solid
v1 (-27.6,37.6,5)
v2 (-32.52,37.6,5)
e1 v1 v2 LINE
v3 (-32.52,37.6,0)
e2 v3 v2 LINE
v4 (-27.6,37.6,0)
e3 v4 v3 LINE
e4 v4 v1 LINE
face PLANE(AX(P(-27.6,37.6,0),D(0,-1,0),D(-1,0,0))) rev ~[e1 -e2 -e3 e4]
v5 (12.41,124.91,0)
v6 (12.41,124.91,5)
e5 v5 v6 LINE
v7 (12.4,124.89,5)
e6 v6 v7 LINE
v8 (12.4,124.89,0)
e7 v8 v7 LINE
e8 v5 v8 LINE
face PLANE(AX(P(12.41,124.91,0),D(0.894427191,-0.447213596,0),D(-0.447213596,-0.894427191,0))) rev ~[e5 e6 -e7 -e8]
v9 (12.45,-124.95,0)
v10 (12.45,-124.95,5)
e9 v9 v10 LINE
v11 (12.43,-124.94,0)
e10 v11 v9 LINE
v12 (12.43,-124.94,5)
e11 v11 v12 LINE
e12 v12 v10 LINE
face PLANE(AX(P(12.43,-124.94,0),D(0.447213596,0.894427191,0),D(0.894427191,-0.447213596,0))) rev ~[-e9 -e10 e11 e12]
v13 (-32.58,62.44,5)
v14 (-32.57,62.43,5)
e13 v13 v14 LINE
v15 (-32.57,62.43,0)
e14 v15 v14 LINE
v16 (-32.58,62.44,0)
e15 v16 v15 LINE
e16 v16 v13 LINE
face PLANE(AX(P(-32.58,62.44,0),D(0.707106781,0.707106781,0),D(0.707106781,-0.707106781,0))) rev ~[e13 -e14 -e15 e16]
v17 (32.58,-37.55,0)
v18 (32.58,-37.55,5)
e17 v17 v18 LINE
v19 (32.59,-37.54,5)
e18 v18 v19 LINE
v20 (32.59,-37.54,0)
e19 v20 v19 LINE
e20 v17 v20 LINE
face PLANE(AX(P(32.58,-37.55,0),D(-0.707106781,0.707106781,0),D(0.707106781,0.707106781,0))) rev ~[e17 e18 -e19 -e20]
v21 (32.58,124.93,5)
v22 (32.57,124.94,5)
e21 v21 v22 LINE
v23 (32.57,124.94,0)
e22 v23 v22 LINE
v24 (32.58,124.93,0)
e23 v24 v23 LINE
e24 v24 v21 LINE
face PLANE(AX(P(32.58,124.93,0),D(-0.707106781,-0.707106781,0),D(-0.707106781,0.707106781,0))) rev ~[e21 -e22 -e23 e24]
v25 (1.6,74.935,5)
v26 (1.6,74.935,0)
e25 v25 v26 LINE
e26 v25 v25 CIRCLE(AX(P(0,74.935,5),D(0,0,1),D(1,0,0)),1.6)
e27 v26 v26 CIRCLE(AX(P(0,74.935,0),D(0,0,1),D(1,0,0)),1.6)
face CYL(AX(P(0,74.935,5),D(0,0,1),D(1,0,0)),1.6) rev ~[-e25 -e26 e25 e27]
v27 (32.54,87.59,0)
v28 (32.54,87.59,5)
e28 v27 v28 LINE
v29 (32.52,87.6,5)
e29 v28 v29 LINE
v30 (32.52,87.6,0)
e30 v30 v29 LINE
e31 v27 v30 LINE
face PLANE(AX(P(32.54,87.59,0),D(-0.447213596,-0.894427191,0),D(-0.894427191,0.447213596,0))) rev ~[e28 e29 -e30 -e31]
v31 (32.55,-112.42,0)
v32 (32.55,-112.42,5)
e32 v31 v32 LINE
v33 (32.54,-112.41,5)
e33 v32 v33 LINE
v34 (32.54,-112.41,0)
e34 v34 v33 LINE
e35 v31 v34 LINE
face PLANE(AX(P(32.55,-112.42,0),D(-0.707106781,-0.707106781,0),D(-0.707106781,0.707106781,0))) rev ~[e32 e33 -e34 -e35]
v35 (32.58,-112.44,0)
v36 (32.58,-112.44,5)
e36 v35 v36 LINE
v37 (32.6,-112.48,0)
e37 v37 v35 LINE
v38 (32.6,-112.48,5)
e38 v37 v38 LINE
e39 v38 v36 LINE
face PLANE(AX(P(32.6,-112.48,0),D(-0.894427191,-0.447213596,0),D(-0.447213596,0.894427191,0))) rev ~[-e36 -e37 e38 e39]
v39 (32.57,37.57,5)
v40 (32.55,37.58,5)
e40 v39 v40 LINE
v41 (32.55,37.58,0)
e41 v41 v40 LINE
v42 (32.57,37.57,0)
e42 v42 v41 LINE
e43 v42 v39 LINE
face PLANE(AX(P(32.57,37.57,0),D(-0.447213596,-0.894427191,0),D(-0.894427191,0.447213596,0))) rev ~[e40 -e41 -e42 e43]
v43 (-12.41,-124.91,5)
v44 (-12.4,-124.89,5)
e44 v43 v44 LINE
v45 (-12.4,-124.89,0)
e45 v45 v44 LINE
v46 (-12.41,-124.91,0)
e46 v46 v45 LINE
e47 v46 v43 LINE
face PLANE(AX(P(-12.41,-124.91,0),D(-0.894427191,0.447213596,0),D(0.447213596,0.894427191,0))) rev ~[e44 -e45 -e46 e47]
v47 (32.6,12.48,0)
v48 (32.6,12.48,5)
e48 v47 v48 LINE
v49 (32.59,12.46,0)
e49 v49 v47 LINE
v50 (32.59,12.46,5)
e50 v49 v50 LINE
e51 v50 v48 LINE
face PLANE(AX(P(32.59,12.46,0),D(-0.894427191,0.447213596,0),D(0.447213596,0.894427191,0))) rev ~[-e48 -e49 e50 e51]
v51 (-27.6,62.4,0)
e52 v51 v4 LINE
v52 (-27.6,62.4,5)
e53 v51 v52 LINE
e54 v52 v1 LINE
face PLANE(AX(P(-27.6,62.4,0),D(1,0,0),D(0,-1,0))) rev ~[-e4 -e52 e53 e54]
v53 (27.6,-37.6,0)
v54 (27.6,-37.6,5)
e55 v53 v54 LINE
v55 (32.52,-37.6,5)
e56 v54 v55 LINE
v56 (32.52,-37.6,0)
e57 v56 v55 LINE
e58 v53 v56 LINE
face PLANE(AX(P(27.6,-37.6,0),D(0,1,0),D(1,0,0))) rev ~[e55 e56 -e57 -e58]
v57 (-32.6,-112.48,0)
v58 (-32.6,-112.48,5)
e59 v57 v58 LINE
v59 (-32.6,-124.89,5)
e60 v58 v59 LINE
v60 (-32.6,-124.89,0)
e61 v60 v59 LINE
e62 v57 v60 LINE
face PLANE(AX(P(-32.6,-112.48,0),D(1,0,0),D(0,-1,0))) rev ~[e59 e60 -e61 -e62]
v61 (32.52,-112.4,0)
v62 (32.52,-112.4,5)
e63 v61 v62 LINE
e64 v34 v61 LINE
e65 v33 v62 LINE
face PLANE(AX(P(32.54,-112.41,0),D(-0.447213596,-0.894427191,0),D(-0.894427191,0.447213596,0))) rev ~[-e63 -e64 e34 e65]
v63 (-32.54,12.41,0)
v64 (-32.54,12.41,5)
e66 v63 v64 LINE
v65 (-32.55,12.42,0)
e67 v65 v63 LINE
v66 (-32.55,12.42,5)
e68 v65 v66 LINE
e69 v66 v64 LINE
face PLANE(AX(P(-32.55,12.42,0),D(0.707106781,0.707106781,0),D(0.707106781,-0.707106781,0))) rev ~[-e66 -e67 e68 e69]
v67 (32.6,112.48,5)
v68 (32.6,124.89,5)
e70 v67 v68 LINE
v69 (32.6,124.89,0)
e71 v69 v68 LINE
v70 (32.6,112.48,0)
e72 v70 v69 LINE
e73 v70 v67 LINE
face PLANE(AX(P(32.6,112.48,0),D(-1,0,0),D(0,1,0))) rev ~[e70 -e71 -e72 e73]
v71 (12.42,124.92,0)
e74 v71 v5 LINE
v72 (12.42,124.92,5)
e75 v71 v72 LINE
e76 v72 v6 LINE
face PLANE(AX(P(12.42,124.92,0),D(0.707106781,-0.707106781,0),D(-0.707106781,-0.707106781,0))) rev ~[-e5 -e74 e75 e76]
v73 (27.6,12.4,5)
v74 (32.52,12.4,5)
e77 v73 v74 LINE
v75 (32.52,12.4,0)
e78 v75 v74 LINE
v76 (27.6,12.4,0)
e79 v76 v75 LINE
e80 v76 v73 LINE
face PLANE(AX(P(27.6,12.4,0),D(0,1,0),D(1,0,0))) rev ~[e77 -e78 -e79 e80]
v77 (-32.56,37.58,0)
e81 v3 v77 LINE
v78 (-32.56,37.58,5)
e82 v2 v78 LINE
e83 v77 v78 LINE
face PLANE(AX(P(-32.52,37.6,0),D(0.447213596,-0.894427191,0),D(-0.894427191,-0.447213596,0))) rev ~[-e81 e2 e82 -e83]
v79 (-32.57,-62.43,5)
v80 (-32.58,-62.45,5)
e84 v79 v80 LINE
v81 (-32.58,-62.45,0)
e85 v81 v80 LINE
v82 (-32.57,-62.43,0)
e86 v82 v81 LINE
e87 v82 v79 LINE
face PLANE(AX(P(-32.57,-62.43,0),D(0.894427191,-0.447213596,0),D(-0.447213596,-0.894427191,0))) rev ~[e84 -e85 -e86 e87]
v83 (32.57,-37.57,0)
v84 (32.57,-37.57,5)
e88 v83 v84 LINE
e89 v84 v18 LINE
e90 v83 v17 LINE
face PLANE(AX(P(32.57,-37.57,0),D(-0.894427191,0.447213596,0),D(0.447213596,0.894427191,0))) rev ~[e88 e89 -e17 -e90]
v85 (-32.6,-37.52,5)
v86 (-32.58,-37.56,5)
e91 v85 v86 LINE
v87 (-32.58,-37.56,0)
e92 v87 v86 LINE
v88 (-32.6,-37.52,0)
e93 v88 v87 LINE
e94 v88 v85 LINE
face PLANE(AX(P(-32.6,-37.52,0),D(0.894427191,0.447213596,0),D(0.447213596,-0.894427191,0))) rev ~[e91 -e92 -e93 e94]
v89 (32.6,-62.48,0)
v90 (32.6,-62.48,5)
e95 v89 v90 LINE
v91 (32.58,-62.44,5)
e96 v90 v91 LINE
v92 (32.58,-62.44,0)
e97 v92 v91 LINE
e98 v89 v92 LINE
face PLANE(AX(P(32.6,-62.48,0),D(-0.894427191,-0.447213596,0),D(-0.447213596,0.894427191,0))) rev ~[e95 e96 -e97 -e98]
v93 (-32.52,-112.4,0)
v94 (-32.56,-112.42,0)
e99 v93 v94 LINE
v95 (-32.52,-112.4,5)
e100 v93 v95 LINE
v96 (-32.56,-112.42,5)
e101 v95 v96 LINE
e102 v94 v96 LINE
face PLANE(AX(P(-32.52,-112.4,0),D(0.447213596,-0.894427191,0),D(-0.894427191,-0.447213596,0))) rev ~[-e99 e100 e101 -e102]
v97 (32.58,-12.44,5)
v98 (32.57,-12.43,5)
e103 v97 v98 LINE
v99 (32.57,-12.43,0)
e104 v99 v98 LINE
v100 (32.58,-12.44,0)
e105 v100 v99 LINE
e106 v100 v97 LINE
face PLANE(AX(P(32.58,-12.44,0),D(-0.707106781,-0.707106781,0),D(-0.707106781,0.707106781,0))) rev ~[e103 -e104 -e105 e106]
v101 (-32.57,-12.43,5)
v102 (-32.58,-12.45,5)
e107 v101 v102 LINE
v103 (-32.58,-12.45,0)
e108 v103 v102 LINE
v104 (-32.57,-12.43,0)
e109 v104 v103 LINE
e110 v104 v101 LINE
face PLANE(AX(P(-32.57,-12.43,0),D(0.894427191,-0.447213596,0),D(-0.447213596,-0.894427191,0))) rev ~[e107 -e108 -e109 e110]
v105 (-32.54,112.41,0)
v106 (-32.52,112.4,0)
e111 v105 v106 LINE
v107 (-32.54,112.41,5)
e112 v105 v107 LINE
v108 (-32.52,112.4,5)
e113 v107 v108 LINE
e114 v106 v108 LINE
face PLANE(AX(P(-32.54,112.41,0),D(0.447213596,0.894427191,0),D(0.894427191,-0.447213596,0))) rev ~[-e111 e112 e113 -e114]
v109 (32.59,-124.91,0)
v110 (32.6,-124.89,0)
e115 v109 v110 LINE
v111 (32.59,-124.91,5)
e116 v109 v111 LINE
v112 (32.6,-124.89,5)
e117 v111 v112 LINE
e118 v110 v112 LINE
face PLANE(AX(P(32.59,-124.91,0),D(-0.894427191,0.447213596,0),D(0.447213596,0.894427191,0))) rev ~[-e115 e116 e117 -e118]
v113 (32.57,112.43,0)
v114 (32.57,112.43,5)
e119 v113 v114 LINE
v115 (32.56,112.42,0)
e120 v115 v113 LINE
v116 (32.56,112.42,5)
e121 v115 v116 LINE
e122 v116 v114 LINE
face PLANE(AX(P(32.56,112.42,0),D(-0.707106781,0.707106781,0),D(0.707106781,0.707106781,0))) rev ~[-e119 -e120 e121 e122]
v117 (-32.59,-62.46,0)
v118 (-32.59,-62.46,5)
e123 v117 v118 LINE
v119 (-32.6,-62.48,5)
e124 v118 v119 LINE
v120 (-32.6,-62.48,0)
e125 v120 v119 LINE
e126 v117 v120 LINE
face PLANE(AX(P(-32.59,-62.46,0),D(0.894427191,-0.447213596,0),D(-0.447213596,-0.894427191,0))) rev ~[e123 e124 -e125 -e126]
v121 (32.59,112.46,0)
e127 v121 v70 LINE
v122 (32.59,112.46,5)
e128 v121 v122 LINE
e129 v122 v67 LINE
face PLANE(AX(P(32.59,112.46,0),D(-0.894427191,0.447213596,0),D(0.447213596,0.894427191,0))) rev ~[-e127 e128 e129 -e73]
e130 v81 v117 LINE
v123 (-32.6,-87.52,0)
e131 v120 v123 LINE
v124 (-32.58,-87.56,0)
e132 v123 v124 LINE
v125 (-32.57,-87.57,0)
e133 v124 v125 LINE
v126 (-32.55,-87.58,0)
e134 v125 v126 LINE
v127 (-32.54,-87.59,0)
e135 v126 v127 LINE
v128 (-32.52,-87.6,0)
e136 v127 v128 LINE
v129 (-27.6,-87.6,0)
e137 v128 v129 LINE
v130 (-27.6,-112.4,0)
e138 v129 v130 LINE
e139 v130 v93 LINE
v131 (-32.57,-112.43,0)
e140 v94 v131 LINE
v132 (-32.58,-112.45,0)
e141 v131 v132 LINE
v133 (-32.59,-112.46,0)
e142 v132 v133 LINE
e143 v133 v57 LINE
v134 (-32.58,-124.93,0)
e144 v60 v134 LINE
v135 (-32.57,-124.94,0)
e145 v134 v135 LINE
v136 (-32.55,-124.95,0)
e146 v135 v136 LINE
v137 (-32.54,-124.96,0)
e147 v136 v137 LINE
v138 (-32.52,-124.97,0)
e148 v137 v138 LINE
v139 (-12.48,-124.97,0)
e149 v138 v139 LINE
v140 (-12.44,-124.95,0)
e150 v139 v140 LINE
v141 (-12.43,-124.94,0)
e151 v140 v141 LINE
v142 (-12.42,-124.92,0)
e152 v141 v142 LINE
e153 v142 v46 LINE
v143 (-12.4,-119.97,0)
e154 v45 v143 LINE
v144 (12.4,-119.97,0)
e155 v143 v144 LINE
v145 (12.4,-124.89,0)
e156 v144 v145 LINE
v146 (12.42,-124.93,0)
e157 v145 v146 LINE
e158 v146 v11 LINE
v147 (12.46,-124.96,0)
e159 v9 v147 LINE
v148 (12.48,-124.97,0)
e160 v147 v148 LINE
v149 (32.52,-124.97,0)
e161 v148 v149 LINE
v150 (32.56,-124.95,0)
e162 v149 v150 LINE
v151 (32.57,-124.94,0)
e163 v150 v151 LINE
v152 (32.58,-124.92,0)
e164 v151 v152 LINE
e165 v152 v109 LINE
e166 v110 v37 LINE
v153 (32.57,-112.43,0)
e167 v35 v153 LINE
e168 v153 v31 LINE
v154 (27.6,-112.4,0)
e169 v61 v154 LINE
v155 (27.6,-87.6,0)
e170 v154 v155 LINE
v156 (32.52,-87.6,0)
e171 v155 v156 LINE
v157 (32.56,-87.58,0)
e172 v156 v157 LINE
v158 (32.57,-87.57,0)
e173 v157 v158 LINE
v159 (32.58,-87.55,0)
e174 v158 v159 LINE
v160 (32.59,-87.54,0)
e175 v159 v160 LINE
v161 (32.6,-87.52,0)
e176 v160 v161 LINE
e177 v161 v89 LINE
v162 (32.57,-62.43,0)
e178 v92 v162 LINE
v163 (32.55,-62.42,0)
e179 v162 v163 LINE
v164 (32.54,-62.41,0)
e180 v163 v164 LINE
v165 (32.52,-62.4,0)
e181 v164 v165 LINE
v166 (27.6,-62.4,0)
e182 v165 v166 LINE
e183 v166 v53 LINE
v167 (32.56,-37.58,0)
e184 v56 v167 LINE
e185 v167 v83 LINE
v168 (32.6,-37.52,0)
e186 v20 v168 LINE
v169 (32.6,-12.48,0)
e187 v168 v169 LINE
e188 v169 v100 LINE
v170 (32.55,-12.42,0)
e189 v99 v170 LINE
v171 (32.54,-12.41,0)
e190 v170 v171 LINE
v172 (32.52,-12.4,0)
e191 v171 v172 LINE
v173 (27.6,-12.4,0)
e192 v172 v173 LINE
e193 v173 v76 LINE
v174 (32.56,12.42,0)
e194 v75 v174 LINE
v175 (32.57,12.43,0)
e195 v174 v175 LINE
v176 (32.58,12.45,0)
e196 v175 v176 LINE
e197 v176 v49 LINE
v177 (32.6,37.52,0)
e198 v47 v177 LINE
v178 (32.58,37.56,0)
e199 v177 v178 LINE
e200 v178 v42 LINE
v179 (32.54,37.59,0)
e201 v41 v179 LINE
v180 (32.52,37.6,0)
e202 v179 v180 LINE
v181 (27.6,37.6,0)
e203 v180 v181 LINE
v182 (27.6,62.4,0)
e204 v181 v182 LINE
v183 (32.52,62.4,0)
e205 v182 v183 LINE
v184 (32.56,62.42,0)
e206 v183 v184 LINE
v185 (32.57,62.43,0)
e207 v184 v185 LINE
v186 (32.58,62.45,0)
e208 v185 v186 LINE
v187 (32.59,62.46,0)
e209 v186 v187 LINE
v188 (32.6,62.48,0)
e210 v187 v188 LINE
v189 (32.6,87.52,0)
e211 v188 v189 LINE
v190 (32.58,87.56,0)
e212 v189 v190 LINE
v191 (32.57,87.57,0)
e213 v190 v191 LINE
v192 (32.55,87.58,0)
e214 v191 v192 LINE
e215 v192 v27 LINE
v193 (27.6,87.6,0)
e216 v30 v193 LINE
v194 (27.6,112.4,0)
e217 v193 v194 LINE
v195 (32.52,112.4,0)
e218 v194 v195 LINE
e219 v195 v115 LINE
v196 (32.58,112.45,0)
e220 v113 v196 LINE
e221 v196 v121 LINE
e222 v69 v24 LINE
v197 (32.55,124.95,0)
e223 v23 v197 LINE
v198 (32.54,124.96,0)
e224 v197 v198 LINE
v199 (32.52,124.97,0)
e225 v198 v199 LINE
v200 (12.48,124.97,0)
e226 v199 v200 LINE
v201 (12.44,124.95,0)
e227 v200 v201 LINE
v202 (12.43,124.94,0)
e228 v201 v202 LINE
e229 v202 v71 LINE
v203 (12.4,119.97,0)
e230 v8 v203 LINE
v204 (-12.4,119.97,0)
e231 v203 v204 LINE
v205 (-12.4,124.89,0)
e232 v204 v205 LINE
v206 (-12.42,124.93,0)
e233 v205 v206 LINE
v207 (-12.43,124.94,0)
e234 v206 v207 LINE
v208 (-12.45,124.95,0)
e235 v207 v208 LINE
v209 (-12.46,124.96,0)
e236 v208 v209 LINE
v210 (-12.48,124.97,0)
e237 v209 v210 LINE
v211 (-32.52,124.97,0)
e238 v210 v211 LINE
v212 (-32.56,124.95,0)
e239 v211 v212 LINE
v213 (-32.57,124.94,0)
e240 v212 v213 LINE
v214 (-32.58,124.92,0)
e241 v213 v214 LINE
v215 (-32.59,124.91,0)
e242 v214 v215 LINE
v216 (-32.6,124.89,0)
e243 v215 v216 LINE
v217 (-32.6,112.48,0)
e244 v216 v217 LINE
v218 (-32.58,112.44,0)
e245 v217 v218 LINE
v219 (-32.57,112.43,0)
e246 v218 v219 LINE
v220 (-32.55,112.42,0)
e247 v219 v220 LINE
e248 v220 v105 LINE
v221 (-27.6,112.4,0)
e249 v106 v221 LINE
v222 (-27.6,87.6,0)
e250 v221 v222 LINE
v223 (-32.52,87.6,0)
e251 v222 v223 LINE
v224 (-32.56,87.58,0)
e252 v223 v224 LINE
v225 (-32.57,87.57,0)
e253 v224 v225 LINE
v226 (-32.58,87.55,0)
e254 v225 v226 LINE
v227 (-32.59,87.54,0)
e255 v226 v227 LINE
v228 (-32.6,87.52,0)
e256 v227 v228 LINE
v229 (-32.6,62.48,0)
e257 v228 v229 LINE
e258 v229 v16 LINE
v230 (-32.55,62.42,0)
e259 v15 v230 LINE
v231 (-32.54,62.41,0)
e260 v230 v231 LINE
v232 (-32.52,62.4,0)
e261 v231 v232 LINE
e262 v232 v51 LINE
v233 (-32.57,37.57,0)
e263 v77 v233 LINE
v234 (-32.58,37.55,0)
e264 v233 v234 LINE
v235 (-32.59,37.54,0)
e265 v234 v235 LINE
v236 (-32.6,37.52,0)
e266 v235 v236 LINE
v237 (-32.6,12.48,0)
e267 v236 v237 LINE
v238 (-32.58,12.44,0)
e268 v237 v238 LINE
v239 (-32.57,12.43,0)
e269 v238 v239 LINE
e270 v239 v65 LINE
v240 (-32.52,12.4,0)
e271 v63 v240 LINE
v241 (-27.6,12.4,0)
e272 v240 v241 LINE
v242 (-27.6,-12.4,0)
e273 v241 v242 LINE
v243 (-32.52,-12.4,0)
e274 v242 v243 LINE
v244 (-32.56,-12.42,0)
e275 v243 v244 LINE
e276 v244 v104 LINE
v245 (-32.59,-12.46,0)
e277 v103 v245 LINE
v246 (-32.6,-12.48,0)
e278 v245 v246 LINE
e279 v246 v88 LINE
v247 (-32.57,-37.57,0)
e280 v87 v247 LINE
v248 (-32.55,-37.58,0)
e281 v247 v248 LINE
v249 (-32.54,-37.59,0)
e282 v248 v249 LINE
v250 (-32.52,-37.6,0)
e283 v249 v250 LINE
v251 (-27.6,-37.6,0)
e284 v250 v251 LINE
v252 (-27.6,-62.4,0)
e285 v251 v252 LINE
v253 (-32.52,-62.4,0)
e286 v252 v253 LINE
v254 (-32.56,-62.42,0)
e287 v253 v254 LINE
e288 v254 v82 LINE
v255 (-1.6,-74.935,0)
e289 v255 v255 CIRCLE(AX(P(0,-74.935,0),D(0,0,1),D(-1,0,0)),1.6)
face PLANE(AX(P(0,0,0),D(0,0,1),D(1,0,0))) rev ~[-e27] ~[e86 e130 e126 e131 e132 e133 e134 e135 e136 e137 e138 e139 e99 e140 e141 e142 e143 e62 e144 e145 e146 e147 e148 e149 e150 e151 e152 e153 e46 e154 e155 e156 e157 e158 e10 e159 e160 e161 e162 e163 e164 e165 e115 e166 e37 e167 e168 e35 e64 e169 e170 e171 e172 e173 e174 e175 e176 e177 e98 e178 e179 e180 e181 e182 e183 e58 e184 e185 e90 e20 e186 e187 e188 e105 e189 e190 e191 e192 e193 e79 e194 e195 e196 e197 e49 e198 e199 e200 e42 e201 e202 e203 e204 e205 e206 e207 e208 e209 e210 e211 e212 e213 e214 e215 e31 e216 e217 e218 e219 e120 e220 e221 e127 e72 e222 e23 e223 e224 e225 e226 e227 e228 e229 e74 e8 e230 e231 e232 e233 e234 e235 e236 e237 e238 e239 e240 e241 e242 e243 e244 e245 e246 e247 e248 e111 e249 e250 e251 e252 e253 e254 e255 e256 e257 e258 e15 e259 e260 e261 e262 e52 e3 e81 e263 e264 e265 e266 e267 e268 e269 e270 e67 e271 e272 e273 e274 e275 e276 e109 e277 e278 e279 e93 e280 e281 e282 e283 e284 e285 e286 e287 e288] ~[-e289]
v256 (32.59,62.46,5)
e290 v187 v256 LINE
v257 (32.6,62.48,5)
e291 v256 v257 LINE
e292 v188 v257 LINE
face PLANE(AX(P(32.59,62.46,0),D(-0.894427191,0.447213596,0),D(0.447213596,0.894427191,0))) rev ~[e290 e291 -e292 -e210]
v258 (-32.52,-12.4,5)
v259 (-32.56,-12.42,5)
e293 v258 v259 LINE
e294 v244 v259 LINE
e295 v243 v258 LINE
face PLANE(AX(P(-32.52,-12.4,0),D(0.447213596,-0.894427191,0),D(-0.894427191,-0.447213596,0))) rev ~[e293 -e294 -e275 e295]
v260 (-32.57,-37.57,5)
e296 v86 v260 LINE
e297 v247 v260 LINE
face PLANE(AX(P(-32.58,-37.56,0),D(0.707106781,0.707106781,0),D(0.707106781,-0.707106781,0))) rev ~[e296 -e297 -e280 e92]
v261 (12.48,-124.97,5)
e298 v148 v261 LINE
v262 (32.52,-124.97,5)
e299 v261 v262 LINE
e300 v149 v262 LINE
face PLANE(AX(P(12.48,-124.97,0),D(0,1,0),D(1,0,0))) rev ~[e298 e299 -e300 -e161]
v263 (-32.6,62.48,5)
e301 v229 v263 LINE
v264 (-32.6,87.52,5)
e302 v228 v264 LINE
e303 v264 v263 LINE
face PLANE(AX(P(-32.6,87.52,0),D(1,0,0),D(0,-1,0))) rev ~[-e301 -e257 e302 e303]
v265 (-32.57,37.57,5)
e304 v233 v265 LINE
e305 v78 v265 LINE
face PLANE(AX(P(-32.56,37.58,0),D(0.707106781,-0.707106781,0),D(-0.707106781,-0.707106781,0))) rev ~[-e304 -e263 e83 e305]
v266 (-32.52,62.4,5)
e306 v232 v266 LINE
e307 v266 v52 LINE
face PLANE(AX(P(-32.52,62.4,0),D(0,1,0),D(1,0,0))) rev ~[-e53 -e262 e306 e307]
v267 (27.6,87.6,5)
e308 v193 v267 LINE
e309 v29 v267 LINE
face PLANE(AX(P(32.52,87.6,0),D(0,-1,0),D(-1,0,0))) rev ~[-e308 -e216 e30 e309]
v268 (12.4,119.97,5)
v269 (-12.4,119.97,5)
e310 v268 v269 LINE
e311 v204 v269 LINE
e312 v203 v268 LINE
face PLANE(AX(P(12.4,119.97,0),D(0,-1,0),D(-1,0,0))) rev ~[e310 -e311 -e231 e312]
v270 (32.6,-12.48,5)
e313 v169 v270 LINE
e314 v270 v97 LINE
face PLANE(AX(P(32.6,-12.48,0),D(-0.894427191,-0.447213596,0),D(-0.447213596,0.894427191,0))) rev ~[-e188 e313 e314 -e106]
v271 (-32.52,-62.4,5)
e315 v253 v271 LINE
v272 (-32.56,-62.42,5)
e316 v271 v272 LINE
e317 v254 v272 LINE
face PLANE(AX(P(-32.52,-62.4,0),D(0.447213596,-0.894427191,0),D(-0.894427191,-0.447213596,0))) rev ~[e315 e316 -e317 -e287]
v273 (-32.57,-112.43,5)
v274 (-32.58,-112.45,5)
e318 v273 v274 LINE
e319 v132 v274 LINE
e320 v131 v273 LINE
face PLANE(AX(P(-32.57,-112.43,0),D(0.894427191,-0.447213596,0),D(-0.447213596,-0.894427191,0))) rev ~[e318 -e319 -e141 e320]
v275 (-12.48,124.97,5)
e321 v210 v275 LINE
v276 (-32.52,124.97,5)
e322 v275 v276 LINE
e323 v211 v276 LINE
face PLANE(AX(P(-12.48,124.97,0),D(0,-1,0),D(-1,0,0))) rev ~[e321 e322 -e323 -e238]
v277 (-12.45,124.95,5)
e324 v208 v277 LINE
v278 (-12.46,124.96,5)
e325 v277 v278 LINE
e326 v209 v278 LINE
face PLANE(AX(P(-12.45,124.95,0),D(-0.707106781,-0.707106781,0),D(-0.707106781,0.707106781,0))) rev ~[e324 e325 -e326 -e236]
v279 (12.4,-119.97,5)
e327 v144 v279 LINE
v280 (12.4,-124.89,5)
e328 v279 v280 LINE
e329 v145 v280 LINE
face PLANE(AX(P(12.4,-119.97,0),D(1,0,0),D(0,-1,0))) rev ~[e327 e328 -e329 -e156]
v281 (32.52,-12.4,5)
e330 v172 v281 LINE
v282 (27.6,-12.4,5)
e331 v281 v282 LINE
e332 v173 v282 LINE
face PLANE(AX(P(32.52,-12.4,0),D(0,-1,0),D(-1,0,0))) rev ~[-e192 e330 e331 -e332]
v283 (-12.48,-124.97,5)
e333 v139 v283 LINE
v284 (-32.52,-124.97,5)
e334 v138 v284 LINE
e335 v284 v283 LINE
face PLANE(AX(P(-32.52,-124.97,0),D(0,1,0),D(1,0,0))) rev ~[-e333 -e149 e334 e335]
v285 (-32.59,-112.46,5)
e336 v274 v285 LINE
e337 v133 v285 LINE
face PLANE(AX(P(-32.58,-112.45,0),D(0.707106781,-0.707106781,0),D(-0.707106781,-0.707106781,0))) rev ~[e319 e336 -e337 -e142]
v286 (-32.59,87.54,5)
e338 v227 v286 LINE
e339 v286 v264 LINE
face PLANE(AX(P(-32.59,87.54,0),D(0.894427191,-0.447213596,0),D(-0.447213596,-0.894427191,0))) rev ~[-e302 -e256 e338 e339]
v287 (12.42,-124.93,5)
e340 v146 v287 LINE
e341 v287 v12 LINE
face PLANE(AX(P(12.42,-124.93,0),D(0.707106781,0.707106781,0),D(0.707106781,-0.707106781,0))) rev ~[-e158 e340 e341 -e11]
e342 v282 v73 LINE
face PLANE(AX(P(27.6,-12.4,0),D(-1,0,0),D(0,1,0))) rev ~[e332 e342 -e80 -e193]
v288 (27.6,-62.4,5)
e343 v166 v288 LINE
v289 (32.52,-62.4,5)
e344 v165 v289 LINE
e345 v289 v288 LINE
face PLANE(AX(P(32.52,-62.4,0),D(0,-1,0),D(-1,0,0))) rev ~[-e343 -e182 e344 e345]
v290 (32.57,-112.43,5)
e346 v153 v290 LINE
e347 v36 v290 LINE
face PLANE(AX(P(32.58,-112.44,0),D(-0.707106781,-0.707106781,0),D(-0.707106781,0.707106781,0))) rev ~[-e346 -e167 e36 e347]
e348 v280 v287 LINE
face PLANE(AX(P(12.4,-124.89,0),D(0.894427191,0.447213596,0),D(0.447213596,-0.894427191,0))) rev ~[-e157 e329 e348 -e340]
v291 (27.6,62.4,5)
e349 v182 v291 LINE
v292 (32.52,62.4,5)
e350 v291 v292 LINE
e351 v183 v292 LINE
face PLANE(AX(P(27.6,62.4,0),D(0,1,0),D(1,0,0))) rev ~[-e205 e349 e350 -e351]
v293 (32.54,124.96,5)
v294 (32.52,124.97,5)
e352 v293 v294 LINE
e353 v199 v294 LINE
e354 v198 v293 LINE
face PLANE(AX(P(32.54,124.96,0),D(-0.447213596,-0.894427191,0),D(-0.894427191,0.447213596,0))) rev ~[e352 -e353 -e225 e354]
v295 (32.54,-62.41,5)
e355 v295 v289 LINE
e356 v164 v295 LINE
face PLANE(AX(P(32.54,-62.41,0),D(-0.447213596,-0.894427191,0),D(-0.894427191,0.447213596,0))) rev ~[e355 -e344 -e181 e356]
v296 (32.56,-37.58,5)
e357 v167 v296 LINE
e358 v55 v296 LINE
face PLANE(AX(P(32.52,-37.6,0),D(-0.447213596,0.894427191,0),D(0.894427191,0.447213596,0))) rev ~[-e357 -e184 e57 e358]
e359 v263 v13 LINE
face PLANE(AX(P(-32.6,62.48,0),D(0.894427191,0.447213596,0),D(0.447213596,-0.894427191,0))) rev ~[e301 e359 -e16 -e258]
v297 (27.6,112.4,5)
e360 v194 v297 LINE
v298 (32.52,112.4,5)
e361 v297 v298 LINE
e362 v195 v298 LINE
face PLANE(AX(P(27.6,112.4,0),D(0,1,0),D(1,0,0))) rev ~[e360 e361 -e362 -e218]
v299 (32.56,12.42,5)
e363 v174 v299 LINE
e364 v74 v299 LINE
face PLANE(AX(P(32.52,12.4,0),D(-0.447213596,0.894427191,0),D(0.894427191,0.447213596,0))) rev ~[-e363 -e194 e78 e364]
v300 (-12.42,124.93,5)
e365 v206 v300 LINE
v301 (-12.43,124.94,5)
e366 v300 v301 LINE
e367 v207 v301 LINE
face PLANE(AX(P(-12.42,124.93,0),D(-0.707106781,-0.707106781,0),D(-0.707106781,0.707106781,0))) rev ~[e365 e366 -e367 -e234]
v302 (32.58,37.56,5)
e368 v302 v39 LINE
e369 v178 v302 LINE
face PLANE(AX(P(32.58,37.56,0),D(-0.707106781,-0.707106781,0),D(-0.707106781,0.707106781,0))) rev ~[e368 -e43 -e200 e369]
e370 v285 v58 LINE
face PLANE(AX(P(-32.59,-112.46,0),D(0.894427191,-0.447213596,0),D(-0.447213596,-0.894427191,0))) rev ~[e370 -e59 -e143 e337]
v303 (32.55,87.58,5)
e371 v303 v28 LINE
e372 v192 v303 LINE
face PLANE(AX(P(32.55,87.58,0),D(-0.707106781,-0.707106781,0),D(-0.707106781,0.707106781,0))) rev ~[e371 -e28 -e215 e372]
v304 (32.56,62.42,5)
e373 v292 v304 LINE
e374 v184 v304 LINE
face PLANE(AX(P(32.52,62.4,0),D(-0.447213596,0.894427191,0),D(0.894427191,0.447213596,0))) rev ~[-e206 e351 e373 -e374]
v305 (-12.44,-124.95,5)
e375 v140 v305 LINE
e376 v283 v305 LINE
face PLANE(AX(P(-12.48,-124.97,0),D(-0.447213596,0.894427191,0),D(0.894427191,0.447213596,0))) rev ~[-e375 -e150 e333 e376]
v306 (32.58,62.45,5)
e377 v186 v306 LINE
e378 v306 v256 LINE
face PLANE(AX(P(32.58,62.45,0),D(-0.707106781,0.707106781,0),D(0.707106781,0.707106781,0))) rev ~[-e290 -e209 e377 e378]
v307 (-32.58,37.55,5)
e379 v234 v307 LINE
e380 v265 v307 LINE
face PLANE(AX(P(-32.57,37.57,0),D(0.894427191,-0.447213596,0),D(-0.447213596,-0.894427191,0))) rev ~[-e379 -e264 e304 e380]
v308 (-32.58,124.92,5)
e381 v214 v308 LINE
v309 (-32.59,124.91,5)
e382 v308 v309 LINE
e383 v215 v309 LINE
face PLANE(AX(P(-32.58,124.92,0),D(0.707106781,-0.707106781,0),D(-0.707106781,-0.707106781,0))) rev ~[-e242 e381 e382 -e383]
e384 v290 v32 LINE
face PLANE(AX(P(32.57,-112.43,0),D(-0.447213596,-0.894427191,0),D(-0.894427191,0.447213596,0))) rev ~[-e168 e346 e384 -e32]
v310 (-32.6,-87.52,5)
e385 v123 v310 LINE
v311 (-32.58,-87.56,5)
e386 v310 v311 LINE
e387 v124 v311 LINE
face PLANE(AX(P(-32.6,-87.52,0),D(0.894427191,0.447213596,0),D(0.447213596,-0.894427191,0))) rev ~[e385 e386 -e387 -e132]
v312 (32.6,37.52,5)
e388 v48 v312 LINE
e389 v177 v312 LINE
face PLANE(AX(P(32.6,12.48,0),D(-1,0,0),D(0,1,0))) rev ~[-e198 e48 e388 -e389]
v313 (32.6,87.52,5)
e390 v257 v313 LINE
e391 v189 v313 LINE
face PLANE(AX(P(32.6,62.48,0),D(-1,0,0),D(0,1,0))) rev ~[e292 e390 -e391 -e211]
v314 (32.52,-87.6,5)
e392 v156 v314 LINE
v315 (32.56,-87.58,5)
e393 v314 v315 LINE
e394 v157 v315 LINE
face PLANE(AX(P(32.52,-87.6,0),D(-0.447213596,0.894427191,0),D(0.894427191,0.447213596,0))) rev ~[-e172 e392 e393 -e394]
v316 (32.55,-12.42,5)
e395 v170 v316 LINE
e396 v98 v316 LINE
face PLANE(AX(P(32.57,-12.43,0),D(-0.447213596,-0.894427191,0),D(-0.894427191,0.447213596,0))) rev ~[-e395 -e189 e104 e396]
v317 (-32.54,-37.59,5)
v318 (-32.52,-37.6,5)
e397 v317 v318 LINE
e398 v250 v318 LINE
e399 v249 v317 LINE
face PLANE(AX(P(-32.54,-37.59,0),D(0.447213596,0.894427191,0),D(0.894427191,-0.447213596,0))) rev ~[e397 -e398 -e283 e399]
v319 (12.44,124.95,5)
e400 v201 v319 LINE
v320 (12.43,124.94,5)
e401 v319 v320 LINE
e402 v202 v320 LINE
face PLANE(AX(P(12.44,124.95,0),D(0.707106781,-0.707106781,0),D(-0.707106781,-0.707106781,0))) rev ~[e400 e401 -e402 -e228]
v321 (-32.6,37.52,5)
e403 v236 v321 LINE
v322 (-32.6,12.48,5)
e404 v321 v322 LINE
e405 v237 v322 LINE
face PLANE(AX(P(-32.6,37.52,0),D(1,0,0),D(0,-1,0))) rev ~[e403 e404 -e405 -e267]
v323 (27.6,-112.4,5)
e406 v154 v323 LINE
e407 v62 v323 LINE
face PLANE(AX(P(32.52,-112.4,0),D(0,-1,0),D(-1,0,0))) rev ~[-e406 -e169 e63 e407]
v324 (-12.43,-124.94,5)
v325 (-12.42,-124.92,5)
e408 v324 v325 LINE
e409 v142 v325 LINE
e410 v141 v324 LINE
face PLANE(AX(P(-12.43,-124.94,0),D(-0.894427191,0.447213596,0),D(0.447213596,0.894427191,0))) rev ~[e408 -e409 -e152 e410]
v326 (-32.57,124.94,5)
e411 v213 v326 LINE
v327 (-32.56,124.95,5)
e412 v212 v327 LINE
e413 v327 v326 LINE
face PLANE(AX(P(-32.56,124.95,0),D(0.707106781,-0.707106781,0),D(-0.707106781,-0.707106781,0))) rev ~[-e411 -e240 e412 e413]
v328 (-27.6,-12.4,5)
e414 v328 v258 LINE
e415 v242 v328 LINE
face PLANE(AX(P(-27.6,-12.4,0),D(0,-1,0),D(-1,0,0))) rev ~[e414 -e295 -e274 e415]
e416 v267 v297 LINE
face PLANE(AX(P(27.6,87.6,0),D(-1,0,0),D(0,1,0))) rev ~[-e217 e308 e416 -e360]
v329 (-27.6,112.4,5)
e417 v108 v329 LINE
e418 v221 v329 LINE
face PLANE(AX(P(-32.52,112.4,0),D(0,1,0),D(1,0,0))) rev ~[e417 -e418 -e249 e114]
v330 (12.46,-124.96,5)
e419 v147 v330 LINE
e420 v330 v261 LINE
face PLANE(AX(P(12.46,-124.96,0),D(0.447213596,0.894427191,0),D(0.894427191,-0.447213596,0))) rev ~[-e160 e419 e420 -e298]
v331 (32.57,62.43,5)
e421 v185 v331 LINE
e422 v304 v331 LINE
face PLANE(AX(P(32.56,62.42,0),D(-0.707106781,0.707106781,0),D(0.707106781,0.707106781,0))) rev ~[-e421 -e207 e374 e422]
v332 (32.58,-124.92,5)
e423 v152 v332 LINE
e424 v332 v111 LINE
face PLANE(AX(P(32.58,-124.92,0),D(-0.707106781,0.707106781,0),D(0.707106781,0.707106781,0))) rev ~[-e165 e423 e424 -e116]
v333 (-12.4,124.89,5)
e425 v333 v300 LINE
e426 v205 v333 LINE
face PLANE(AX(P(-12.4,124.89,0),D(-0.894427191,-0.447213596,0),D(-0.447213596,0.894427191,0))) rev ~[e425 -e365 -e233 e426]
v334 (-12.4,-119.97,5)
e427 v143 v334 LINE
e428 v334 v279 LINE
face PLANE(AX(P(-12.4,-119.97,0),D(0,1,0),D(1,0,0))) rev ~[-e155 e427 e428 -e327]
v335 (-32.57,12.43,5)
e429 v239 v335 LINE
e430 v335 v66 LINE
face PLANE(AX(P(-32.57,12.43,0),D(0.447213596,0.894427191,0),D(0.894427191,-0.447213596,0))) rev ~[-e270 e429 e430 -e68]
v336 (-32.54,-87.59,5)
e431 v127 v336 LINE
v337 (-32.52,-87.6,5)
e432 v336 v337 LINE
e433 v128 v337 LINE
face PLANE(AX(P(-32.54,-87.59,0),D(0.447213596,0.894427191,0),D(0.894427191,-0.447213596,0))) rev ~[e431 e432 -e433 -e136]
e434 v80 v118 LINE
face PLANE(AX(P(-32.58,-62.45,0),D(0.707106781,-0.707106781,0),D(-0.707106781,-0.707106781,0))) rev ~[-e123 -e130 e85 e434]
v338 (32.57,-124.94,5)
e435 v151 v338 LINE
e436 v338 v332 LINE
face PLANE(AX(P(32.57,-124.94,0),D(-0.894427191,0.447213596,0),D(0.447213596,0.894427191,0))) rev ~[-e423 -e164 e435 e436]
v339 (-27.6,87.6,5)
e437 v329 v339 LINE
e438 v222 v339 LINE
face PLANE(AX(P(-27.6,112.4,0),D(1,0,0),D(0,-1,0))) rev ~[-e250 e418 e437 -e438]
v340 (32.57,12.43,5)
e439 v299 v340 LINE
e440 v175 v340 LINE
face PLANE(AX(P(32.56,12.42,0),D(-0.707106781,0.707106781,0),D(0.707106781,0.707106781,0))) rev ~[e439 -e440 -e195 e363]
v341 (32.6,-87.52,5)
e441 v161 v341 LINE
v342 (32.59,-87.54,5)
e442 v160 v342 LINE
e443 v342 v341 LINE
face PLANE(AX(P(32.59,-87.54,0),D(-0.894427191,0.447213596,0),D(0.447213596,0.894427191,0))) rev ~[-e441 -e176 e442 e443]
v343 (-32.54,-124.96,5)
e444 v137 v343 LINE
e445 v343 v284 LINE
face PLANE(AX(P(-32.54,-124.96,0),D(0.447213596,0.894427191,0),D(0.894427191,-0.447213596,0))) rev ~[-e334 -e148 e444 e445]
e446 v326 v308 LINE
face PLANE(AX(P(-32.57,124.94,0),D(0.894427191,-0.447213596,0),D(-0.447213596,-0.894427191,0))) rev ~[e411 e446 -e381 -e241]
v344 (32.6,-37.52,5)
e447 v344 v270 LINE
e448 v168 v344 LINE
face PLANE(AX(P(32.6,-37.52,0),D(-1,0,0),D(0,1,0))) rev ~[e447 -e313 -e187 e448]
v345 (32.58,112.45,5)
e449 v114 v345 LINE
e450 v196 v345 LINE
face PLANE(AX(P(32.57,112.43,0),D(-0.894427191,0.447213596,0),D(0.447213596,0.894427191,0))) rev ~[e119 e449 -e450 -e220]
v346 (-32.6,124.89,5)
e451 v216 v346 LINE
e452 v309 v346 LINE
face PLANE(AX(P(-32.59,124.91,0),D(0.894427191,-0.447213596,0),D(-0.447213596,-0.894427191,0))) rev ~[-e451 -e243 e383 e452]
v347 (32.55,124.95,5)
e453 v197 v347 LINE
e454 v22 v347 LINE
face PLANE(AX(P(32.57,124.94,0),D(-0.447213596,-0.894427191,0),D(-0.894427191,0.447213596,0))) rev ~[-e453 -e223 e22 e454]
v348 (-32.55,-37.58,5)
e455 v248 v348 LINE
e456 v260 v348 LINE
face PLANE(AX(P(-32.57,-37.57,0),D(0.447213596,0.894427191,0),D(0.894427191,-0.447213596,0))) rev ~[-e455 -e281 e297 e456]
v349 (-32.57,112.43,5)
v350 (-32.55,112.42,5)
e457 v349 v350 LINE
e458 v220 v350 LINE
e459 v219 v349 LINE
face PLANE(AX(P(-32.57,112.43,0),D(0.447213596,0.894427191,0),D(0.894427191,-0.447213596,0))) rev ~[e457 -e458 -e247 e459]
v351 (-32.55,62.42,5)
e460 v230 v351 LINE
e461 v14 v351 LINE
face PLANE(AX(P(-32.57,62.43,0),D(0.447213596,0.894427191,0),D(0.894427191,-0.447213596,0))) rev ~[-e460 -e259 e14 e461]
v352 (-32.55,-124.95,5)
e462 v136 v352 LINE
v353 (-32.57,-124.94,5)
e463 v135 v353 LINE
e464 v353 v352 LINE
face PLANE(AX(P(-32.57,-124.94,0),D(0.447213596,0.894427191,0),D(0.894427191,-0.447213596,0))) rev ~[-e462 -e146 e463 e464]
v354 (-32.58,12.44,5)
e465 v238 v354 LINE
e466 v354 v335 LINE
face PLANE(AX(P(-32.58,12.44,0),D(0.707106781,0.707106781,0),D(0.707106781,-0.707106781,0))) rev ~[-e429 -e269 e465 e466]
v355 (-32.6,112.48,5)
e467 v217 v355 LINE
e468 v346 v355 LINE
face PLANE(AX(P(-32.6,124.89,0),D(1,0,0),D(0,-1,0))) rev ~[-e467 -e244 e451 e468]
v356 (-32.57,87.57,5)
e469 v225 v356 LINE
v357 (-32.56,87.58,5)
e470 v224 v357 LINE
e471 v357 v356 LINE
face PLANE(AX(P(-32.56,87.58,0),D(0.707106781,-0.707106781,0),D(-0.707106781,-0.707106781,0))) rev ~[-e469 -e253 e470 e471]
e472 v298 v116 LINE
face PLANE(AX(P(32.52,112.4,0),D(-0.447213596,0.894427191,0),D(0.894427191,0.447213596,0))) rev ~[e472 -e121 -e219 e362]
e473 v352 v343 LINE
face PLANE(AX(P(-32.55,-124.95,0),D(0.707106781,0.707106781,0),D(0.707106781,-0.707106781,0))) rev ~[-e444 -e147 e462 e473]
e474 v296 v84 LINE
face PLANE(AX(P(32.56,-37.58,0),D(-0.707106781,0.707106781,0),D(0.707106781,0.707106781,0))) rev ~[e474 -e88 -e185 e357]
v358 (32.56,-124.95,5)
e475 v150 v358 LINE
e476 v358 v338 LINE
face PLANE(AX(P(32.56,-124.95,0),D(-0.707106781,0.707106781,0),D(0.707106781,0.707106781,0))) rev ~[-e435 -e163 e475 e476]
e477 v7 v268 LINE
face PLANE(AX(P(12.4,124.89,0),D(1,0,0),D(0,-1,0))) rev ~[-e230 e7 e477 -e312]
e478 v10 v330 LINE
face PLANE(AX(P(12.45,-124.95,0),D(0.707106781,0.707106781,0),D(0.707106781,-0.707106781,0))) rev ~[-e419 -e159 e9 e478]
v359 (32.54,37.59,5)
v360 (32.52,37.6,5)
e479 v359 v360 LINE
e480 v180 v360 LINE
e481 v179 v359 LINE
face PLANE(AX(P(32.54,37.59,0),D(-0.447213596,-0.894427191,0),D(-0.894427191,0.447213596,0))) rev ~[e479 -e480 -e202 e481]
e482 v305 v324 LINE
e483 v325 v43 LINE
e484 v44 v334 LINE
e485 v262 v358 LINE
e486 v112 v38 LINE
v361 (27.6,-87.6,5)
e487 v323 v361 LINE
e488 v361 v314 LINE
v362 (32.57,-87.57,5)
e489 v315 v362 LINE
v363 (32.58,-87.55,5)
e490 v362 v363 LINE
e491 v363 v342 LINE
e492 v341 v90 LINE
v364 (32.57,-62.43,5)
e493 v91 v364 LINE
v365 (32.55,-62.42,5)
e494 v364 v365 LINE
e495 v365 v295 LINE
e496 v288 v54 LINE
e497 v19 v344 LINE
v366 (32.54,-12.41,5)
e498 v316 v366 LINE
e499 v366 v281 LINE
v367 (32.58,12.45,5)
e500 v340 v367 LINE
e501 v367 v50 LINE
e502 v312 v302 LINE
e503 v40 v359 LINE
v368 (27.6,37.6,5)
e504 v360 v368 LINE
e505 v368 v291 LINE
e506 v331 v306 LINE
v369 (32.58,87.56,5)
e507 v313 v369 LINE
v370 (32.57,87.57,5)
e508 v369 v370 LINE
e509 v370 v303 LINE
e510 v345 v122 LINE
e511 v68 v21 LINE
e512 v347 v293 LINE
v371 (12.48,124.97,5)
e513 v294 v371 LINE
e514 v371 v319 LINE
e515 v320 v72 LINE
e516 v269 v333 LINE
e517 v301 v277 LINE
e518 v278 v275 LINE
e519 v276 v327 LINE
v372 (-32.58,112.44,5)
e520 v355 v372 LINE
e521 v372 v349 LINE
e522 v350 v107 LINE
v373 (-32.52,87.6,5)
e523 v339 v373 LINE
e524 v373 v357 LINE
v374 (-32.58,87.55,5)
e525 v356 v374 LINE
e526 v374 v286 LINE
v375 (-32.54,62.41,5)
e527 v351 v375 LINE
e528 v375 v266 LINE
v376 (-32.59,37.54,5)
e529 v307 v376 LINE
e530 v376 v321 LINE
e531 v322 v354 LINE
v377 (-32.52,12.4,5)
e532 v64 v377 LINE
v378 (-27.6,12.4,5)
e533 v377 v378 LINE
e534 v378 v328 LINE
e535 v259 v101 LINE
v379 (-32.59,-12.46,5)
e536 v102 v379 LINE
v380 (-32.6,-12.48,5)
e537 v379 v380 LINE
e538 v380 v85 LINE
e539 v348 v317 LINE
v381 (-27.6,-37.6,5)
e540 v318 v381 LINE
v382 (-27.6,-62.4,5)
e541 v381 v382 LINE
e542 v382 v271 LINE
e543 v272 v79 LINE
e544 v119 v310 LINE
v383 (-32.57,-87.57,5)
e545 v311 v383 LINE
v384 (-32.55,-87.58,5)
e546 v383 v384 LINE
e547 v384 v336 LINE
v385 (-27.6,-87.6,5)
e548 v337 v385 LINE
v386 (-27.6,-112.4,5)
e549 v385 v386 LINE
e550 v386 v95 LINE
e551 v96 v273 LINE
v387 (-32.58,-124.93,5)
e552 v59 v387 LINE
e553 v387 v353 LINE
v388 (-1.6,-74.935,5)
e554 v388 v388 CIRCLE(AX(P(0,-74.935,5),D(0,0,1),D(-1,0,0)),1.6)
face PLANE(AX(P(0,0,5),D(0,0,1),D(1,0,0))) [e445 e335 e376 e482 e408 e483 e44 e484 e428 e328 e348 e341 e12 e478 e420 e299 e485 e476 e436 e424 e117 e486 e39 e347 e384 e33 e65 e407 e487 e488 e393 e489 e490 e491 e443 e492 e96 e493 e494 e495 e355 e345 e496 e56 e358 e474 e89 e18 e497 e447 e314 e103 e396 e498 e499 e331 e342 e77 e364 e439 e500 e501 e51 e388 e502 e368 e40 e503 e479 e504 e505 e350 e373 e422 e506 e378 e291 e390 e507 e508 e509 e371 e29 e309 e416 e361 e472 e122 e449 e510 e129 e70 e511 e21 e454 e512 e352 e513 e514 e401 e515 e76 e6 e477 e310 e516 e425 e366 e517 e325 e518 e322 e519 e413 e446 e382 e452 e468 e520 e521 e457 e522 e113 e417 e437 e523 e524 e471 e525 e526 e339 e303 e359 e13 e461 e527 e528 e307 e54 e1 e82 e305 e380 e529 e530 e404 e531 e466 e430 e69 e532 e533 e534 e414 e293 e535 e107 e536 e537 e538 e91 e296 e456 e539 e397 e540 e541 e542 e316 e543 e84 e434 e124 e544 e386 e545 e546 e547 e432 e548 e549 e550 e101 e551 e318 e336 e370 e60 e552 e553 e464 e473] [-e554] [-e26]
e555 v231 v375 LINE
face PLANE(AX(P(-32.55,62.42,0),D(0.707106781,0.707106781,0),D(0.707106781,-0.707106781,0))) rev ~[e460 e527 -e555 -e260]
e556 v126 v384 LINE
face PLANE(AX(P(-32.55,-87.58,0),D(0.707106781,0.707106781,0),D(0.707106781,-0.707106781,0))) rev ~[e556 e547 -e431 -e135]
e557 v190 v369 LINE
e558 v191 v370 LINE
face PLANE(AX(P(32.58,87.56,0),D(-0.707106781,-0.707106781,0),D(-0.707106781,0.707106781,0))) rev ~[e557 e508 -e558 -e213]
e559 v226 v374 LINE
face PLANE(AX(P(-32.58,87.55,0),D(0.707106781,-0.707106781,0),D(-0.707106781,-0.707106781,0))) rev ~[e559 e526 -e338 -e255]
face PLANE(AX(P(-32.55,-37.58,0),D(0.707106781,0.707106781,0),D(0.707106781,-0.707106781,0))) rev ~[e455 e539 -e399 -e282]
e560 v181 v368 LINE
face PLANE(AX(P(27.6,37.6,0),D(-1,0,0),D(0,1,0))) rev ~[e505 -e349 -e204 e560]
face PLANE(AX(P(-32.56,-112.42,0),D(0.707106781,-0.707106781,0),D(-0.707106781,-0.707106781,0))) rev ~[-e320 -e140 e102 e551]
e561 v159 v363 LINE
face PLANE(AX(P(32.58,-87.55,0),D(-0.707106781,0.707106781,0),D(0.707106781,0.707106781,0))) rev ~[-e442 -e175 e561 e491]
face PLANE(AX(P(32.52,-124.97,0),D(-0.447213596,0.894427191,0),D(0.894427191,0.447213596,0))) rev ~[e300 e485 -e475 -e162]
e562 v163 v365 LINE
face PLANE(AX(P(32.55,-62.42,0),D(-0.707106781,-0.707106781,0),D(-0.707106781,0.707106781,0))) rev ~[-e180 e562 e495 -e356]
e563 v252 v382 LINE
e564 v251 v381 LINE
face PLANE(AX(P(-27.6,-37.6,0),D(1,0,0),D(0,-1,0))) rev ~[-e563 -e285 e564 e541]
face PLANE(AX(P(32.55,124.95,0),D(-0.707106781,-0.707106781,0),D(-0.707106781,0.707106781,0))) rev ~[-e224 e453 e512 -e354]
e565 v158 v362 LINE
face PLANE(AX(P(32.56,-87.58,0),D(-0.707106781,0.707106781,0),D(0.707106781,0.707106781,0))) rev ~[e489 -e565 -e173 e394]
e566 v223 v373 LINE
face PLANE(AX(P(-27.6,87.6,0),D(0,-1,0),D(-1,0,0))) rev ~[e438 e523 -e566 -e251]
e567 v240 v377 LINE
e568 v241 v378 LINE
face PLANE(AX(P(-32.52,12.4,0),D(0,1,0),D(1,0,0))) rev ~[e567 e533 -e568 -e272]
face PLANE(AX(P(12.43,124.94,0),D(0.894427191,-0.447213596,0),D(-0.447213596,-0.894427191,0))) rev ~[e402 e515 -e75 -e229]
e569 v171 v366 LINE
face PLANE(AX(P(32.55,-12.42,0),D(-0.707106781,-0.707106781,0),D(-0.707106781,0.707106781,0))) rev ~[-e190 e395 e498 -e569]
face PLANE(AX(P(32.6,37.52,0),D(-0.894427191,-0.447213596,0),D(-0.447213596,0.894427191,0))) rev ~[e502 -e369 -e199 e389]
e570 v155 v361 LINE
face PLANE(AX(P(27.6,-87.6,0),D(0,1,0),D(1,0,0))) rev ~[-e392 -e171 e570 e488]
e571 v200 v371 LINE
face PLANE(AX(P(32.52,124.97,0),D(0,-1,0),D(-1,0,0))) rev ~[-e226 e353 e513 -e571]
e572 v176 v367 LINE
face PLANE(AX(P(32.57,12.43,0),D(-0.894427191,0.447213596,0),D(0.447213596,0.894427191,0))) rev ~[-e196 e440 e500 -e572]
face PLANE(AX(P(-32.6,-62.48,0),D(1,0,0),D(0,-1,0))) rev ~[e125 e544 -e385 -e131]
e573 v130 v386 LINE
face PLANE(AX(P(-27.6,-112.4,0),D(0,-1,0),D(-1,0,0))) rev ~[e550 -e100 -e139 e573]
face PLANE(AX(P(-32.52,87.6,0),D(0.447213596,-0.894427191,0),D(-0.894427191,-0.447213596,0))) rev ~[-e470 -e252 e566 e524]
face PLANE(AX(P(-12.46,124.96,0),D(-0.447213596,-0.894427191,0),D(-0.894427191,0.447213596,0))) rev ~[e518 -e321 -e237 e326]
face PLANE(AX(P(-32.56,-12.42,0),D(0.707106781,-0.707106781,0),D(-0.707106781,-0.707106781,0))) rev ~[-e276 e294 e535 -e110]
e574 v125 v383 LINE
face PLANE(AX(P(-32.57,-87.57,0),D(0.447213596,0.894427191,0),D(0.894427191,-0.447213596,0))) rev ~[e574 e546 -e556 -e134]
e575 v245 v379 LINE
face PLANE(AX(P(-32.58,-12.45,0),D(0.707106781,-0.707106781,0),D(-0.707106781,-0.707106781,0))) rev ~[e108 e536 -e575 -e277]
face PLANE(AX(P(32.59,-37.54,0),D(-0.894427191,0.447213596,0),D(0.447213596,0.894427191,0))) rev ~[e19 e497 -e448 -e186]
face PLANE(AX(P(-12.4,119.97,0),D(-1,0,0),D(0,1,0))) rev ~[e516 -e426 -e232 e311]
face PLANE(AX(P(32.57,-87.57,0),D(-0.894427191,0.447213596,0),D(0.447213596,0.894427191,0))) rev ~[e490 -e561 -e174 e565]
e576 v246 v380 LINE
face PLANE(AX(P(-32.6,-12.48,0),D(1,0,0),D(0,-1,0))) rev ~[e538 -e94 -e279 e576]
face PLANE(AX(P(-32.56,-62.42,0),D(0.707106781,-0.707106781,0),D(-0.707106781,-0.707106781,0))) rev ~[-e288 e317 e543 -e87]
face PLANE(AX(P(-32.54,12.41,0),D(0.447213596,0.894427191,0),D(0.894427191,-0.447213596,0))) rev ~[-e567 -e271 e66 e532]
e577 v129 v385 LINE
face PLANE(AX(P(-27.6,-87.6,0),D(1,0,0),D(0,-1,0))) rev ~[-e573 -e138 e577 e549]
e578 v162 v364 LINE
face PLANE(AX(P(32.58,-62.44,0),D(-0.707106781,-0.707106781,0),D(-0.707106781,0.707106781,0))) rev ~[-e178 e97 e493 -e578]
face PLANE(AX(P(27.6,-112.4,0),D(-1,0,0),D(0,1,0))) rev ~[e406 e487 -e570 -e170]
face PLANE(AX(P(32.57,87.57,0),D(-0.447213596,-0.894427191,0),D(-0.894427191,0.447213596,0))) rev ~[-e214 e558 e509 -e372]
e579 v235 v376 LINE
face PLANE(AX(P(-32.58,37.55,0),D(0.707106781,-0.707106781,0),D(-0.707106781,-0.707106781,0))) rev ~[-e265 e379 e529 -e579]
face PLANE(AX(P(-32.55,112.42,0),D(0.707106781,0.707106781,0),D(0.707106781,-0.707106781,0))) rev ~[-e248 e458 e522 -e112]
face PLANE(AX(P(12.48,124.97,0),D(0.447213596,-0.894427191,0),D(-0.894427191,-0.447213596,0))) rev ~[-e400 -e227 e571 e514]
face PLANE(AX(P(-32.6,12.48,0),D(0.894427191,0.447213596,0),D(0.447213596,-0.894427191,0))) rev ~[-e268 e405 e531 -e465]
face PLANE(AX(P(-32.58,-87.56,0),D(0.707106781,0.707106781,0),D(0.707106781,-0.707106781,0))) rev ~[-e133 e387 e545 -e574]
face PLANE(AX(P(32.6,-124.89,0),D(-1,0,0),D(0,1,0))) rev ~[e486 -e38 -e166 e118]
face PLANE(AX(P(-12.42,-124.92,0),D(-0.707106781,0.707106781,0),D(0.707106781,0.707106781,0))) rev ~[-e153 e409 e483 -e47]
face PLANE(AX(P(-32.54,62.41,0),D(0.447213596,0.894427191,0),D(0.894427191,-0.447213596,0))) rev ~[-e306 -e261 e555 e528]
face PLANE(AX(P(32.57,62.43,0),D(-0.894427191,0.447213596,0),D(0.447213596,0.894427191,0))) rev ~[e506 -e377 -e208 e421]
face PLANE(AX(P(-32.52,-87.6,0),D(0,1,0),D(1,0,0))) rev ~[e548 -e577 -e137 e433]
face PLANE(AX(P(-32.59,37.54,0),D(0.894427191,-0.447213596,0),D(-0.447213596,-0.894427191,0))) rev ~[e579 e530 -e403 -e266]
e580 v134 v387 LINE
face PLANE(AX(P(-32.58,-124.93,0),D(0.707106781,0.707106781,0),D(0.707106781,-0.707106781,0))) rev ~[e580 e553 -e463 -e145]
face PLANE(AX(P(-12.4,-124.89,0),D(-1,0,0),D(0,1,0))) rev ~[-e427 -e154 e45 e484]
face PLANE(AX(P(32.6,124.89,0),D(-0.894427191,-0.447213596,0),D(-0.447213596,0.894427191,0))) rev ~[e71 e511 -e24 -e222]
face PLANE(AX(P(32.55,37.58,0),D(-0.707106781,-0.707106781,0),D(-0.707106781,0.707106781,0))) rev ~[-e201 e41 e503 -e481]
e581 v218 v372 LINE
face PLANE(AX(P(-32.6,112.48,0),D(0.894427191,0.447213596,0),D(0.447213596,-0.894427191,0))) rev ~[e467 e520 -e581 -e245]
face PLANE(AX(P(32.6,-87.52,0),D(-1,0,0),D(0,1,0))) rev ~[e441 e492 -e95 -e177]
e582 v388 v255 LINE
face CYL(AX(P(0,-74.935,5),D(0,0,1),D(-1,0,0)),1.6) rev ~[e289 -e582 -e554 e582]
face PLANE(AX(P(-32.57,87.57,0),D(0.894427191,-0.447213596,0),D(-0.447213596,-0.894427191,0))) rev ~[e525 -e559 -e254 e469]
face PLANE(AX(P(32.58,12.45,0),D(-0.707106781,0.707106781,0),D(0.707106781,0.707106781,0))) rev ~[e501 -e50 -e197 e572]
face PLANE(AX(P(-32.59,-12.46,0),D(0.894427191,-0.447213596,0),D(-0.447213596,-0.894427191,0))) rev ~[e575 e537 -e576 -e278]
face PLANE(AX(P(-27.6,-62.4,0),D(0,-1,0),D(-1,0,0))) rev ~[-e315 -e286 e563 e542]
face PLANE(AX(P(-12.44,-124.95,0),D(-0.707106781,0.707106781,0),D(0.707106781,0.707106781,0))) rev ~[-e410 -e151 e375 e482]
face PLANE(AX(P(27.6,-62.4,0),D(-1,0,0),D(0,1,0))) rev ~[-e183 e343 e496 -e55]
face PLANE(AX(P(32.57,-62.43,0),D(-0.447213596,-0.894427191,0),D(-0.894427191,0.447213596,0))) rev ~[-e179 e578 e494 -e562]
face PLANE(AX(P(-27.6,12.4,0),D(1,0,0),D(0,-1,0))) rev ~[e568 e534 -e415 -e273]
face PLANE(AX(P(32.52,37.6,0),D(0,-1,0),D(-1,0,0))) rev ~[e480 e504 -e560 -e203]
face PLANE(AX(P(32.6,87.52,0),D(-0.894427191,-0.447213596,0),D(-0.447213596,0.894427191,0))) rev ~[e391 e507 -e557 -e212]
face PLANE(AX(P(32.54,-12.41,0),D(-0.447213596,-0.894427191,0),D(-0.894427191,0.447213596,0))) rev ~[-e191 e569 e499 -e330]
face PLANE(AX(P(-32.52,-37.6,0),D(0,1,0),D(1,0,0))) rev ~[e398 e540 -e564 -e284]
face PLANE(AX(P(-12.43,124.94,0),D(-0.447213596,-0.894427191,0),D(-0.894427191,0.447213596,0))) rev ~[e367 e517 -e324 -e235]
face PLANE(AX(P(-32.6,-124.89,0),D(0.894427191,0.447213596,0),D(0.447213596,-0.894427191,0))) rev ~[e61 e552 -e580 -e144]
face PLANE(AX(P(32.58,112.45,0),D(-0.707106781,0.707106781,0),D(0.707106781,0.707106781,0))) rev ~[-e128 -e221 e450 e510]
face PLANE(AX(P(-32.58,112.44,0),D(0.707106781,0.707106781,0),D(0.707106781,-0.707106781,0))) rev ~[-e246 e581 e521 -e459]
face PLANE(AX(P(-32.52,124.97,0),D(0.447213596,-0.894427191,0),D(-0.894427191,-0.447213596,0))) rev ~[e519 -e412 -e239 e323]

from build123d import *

# Parameters (mm, degrees)
BOSS_EXTRUDE1_DEPTH = 5
SKETCH1_R           = 1.6
CUT_EXTRUDE2_DEPTH  = 130.248833264


with BuildPart() as part:
    # Model → Boss-Extrude1 (new body)
    with BuildSketch(Plane.XY):
        Polygon((-12.44, -124.95), (-12.43, -124.94), (-12.42, -124.92), (-12.41, -124.91), (-12.4, -124.89), (-12.4, -119.97), (12.4, -119.97), (12.4, -124.89), (12.42, -124.93), (12.43, -124.94), (12.45, -124.95), (12.46, -124.96), (12.48, -124.97), (32.52, -124.97), (32.56, -124.95), (32.57, -124.94), (32.58, -124.92), (32.59, -124.91), (32.6, -124.89), (32.6, -112.48), (32.58, -112.44), (32.57, -112.43), (32.55, -112.42), (32.54, -112.41), (32.52, -112.4), (27.6, -112.4), (27.6, -87.6), (32.52, -87.6), (32.56, -87.58), (32.57, -87.57), (32.58, -87.55), (32.59, -87.54), (32.6, -87.52), (32.6, -62.48), (32.58, -62.44), (32.57, -62.43), (32.55, -62.42), (32.54, -62.41), (32.52, -62.4), (27.6, -62.4), (27.6, -37.6), (32.52, -37.6), (32.56, -37.58), (32.57, -37.57), (32.58, -37.55), (32.59, -37.54), (32.6, -37.52), (32.6, -12.48), (32.58, -12.44), (32.57, -12.43), (32.55, -12.42), (32.54, -12.41), (32.52, -12.4), (27.6, -12.4), (27.6, 12.4), (32.52, 12.4), (32.56, 12.42), (32.57, 12.43), (32.58, 12.45), (32.59, 12.46), (32.6, 12.48), (32.6, 37.52), (32.58, 37.56), (32.57, 37.57), (32.55, 37.58), (32.54, 37.59), (32.52, 37.6), (27.6, 37.6), (27.6, 62.4), (32.52, 62.4), (32.56, 62.42), (32.57, 62.43), (32.58, 62.45), (32.59, 62.46), (32.6, 62.48), (32.6, 87.52), (32.58, 87.56), (32.57, 87.57), (32.55, 87.58), (32.54, 87.59), (32.52, 87.6), (27.6, 87.6), (27.6, 112.4), (32.52, 112.4), (32.56, 112.42), (32.57, 112.43), (32.58, 112.45), (32.59, 112.46), (32.6, 112.48), (32.6, 124.89), (32.58, 124.93), (32.57, 124.94), (32.55, 124.95), (32.54, 124.96), (32.52, 124.97), (12.48, 124.97), (12.44, 124.95), (12.43, 124.94), (12.42, 124.92), (12.41, 124.91), (12.4, 124.89), (12.4, 119.97), (-12.4, 119.97), (-12.4, 124.89), (-12.42, 124.93), (-12.43, 124.94), (-12.45, 124.95), (-12.46, 124.96), (-12.48, 124.97), (-32.52, 124.97), (-32.56, 124.95), (-32.57, 124.94), (-32.58, 124.92), (-32.59, 124.91), (-32.6, 124.89), (-32.6, 112.48), (-32.58, 112.44), (-32.57, 112.43), (-32.55, 112.42), (-32.54, 112.41), (-32.52, 112.4), (-27.6, 112.4), (-27.6, 87.6), (-32.52, 87.6), (-32.56, 87.58), (-32.57, 87.57), (-32.58, 87.55), (-32.59, 87.54), (-32.6, 87.52), (-32.6, 62.48), (-32.58, 62.44), (-32.57, 62.43), (-32.55, 62.42), (-32.54, 62.41), (-32.52, 62.4), (-27.6, 62.4), (-27.6, 37.6), (-32.52, 37.6), (-32.56, 37.58), (-32.57, 37.57), (-32.58, 37.55), (-32.59, 37.54), (-32.6, 37.52), (-32.6, 12.48), (-32.58, 12.44), (-32.57, 12.43), (-32.55, 12.42), (-32.54, 12.41), (-32.52, 12.4), (-27.6, 12.4), (-27.6, -12.4), (-32.52, -12.4), (-32.56, -12.42), (-32.57, -12.43), (-32.58, -12.45), (-32.59, -12.46), (-32.6, -12.48), (-32.6, -37.52), (-32.58, -37.56), (-32.57, -37.57), (-32.55, -37.58), (-32.54, -37.59), (-32.52, -37.6), (-27.6, -37.6), (-27.6, -62.4), (-32.52, -62.4), (-32.56, -62.42), (-32.57, -62.43), (-32.58, -62.45), (-32.59, -62.46), (-32.6, -62.48), (-32.6, -87.52), (-32.58, -87.56), (-32.57, -87.57), (-32.55, -87.58), (-32.54, -87.59), (-32.52, -87.6), (-27.6, -87.6), (-27.6, -112.4), (-32.52, -112.4), (-32.56, -112.42), (-32.57, -112.43), (-32.58, -112.45), (-32.59, -112.46), (-32.6, -112.48), (-32.6, -124.89), (-32.58, -124.93), (-32.57, -124.94), (-32.55, -124.95), (-32.54, -124.96), (-32.52, -124.97), (-12.48, -124.97), align=None)
    extrude(amount=BOSS_EXTRUDE1_DEPTH)

    # Sketch1 → Cut-Extrude2 (cut, through all)
    with BuildSketch(Plane.XY.offset(5)):
        with Locations((0, 74.935)):
            Circle(SKETCH1_R)
        with Locations(Location((0, -74.935, 0), (0, 0, 180))):
            Circle(SKETCH1_R)
    extrude(amount=-CUT_EXTRUDE2_DEPTH, mode=Mode.SUBTRACT)


solid = part.part
